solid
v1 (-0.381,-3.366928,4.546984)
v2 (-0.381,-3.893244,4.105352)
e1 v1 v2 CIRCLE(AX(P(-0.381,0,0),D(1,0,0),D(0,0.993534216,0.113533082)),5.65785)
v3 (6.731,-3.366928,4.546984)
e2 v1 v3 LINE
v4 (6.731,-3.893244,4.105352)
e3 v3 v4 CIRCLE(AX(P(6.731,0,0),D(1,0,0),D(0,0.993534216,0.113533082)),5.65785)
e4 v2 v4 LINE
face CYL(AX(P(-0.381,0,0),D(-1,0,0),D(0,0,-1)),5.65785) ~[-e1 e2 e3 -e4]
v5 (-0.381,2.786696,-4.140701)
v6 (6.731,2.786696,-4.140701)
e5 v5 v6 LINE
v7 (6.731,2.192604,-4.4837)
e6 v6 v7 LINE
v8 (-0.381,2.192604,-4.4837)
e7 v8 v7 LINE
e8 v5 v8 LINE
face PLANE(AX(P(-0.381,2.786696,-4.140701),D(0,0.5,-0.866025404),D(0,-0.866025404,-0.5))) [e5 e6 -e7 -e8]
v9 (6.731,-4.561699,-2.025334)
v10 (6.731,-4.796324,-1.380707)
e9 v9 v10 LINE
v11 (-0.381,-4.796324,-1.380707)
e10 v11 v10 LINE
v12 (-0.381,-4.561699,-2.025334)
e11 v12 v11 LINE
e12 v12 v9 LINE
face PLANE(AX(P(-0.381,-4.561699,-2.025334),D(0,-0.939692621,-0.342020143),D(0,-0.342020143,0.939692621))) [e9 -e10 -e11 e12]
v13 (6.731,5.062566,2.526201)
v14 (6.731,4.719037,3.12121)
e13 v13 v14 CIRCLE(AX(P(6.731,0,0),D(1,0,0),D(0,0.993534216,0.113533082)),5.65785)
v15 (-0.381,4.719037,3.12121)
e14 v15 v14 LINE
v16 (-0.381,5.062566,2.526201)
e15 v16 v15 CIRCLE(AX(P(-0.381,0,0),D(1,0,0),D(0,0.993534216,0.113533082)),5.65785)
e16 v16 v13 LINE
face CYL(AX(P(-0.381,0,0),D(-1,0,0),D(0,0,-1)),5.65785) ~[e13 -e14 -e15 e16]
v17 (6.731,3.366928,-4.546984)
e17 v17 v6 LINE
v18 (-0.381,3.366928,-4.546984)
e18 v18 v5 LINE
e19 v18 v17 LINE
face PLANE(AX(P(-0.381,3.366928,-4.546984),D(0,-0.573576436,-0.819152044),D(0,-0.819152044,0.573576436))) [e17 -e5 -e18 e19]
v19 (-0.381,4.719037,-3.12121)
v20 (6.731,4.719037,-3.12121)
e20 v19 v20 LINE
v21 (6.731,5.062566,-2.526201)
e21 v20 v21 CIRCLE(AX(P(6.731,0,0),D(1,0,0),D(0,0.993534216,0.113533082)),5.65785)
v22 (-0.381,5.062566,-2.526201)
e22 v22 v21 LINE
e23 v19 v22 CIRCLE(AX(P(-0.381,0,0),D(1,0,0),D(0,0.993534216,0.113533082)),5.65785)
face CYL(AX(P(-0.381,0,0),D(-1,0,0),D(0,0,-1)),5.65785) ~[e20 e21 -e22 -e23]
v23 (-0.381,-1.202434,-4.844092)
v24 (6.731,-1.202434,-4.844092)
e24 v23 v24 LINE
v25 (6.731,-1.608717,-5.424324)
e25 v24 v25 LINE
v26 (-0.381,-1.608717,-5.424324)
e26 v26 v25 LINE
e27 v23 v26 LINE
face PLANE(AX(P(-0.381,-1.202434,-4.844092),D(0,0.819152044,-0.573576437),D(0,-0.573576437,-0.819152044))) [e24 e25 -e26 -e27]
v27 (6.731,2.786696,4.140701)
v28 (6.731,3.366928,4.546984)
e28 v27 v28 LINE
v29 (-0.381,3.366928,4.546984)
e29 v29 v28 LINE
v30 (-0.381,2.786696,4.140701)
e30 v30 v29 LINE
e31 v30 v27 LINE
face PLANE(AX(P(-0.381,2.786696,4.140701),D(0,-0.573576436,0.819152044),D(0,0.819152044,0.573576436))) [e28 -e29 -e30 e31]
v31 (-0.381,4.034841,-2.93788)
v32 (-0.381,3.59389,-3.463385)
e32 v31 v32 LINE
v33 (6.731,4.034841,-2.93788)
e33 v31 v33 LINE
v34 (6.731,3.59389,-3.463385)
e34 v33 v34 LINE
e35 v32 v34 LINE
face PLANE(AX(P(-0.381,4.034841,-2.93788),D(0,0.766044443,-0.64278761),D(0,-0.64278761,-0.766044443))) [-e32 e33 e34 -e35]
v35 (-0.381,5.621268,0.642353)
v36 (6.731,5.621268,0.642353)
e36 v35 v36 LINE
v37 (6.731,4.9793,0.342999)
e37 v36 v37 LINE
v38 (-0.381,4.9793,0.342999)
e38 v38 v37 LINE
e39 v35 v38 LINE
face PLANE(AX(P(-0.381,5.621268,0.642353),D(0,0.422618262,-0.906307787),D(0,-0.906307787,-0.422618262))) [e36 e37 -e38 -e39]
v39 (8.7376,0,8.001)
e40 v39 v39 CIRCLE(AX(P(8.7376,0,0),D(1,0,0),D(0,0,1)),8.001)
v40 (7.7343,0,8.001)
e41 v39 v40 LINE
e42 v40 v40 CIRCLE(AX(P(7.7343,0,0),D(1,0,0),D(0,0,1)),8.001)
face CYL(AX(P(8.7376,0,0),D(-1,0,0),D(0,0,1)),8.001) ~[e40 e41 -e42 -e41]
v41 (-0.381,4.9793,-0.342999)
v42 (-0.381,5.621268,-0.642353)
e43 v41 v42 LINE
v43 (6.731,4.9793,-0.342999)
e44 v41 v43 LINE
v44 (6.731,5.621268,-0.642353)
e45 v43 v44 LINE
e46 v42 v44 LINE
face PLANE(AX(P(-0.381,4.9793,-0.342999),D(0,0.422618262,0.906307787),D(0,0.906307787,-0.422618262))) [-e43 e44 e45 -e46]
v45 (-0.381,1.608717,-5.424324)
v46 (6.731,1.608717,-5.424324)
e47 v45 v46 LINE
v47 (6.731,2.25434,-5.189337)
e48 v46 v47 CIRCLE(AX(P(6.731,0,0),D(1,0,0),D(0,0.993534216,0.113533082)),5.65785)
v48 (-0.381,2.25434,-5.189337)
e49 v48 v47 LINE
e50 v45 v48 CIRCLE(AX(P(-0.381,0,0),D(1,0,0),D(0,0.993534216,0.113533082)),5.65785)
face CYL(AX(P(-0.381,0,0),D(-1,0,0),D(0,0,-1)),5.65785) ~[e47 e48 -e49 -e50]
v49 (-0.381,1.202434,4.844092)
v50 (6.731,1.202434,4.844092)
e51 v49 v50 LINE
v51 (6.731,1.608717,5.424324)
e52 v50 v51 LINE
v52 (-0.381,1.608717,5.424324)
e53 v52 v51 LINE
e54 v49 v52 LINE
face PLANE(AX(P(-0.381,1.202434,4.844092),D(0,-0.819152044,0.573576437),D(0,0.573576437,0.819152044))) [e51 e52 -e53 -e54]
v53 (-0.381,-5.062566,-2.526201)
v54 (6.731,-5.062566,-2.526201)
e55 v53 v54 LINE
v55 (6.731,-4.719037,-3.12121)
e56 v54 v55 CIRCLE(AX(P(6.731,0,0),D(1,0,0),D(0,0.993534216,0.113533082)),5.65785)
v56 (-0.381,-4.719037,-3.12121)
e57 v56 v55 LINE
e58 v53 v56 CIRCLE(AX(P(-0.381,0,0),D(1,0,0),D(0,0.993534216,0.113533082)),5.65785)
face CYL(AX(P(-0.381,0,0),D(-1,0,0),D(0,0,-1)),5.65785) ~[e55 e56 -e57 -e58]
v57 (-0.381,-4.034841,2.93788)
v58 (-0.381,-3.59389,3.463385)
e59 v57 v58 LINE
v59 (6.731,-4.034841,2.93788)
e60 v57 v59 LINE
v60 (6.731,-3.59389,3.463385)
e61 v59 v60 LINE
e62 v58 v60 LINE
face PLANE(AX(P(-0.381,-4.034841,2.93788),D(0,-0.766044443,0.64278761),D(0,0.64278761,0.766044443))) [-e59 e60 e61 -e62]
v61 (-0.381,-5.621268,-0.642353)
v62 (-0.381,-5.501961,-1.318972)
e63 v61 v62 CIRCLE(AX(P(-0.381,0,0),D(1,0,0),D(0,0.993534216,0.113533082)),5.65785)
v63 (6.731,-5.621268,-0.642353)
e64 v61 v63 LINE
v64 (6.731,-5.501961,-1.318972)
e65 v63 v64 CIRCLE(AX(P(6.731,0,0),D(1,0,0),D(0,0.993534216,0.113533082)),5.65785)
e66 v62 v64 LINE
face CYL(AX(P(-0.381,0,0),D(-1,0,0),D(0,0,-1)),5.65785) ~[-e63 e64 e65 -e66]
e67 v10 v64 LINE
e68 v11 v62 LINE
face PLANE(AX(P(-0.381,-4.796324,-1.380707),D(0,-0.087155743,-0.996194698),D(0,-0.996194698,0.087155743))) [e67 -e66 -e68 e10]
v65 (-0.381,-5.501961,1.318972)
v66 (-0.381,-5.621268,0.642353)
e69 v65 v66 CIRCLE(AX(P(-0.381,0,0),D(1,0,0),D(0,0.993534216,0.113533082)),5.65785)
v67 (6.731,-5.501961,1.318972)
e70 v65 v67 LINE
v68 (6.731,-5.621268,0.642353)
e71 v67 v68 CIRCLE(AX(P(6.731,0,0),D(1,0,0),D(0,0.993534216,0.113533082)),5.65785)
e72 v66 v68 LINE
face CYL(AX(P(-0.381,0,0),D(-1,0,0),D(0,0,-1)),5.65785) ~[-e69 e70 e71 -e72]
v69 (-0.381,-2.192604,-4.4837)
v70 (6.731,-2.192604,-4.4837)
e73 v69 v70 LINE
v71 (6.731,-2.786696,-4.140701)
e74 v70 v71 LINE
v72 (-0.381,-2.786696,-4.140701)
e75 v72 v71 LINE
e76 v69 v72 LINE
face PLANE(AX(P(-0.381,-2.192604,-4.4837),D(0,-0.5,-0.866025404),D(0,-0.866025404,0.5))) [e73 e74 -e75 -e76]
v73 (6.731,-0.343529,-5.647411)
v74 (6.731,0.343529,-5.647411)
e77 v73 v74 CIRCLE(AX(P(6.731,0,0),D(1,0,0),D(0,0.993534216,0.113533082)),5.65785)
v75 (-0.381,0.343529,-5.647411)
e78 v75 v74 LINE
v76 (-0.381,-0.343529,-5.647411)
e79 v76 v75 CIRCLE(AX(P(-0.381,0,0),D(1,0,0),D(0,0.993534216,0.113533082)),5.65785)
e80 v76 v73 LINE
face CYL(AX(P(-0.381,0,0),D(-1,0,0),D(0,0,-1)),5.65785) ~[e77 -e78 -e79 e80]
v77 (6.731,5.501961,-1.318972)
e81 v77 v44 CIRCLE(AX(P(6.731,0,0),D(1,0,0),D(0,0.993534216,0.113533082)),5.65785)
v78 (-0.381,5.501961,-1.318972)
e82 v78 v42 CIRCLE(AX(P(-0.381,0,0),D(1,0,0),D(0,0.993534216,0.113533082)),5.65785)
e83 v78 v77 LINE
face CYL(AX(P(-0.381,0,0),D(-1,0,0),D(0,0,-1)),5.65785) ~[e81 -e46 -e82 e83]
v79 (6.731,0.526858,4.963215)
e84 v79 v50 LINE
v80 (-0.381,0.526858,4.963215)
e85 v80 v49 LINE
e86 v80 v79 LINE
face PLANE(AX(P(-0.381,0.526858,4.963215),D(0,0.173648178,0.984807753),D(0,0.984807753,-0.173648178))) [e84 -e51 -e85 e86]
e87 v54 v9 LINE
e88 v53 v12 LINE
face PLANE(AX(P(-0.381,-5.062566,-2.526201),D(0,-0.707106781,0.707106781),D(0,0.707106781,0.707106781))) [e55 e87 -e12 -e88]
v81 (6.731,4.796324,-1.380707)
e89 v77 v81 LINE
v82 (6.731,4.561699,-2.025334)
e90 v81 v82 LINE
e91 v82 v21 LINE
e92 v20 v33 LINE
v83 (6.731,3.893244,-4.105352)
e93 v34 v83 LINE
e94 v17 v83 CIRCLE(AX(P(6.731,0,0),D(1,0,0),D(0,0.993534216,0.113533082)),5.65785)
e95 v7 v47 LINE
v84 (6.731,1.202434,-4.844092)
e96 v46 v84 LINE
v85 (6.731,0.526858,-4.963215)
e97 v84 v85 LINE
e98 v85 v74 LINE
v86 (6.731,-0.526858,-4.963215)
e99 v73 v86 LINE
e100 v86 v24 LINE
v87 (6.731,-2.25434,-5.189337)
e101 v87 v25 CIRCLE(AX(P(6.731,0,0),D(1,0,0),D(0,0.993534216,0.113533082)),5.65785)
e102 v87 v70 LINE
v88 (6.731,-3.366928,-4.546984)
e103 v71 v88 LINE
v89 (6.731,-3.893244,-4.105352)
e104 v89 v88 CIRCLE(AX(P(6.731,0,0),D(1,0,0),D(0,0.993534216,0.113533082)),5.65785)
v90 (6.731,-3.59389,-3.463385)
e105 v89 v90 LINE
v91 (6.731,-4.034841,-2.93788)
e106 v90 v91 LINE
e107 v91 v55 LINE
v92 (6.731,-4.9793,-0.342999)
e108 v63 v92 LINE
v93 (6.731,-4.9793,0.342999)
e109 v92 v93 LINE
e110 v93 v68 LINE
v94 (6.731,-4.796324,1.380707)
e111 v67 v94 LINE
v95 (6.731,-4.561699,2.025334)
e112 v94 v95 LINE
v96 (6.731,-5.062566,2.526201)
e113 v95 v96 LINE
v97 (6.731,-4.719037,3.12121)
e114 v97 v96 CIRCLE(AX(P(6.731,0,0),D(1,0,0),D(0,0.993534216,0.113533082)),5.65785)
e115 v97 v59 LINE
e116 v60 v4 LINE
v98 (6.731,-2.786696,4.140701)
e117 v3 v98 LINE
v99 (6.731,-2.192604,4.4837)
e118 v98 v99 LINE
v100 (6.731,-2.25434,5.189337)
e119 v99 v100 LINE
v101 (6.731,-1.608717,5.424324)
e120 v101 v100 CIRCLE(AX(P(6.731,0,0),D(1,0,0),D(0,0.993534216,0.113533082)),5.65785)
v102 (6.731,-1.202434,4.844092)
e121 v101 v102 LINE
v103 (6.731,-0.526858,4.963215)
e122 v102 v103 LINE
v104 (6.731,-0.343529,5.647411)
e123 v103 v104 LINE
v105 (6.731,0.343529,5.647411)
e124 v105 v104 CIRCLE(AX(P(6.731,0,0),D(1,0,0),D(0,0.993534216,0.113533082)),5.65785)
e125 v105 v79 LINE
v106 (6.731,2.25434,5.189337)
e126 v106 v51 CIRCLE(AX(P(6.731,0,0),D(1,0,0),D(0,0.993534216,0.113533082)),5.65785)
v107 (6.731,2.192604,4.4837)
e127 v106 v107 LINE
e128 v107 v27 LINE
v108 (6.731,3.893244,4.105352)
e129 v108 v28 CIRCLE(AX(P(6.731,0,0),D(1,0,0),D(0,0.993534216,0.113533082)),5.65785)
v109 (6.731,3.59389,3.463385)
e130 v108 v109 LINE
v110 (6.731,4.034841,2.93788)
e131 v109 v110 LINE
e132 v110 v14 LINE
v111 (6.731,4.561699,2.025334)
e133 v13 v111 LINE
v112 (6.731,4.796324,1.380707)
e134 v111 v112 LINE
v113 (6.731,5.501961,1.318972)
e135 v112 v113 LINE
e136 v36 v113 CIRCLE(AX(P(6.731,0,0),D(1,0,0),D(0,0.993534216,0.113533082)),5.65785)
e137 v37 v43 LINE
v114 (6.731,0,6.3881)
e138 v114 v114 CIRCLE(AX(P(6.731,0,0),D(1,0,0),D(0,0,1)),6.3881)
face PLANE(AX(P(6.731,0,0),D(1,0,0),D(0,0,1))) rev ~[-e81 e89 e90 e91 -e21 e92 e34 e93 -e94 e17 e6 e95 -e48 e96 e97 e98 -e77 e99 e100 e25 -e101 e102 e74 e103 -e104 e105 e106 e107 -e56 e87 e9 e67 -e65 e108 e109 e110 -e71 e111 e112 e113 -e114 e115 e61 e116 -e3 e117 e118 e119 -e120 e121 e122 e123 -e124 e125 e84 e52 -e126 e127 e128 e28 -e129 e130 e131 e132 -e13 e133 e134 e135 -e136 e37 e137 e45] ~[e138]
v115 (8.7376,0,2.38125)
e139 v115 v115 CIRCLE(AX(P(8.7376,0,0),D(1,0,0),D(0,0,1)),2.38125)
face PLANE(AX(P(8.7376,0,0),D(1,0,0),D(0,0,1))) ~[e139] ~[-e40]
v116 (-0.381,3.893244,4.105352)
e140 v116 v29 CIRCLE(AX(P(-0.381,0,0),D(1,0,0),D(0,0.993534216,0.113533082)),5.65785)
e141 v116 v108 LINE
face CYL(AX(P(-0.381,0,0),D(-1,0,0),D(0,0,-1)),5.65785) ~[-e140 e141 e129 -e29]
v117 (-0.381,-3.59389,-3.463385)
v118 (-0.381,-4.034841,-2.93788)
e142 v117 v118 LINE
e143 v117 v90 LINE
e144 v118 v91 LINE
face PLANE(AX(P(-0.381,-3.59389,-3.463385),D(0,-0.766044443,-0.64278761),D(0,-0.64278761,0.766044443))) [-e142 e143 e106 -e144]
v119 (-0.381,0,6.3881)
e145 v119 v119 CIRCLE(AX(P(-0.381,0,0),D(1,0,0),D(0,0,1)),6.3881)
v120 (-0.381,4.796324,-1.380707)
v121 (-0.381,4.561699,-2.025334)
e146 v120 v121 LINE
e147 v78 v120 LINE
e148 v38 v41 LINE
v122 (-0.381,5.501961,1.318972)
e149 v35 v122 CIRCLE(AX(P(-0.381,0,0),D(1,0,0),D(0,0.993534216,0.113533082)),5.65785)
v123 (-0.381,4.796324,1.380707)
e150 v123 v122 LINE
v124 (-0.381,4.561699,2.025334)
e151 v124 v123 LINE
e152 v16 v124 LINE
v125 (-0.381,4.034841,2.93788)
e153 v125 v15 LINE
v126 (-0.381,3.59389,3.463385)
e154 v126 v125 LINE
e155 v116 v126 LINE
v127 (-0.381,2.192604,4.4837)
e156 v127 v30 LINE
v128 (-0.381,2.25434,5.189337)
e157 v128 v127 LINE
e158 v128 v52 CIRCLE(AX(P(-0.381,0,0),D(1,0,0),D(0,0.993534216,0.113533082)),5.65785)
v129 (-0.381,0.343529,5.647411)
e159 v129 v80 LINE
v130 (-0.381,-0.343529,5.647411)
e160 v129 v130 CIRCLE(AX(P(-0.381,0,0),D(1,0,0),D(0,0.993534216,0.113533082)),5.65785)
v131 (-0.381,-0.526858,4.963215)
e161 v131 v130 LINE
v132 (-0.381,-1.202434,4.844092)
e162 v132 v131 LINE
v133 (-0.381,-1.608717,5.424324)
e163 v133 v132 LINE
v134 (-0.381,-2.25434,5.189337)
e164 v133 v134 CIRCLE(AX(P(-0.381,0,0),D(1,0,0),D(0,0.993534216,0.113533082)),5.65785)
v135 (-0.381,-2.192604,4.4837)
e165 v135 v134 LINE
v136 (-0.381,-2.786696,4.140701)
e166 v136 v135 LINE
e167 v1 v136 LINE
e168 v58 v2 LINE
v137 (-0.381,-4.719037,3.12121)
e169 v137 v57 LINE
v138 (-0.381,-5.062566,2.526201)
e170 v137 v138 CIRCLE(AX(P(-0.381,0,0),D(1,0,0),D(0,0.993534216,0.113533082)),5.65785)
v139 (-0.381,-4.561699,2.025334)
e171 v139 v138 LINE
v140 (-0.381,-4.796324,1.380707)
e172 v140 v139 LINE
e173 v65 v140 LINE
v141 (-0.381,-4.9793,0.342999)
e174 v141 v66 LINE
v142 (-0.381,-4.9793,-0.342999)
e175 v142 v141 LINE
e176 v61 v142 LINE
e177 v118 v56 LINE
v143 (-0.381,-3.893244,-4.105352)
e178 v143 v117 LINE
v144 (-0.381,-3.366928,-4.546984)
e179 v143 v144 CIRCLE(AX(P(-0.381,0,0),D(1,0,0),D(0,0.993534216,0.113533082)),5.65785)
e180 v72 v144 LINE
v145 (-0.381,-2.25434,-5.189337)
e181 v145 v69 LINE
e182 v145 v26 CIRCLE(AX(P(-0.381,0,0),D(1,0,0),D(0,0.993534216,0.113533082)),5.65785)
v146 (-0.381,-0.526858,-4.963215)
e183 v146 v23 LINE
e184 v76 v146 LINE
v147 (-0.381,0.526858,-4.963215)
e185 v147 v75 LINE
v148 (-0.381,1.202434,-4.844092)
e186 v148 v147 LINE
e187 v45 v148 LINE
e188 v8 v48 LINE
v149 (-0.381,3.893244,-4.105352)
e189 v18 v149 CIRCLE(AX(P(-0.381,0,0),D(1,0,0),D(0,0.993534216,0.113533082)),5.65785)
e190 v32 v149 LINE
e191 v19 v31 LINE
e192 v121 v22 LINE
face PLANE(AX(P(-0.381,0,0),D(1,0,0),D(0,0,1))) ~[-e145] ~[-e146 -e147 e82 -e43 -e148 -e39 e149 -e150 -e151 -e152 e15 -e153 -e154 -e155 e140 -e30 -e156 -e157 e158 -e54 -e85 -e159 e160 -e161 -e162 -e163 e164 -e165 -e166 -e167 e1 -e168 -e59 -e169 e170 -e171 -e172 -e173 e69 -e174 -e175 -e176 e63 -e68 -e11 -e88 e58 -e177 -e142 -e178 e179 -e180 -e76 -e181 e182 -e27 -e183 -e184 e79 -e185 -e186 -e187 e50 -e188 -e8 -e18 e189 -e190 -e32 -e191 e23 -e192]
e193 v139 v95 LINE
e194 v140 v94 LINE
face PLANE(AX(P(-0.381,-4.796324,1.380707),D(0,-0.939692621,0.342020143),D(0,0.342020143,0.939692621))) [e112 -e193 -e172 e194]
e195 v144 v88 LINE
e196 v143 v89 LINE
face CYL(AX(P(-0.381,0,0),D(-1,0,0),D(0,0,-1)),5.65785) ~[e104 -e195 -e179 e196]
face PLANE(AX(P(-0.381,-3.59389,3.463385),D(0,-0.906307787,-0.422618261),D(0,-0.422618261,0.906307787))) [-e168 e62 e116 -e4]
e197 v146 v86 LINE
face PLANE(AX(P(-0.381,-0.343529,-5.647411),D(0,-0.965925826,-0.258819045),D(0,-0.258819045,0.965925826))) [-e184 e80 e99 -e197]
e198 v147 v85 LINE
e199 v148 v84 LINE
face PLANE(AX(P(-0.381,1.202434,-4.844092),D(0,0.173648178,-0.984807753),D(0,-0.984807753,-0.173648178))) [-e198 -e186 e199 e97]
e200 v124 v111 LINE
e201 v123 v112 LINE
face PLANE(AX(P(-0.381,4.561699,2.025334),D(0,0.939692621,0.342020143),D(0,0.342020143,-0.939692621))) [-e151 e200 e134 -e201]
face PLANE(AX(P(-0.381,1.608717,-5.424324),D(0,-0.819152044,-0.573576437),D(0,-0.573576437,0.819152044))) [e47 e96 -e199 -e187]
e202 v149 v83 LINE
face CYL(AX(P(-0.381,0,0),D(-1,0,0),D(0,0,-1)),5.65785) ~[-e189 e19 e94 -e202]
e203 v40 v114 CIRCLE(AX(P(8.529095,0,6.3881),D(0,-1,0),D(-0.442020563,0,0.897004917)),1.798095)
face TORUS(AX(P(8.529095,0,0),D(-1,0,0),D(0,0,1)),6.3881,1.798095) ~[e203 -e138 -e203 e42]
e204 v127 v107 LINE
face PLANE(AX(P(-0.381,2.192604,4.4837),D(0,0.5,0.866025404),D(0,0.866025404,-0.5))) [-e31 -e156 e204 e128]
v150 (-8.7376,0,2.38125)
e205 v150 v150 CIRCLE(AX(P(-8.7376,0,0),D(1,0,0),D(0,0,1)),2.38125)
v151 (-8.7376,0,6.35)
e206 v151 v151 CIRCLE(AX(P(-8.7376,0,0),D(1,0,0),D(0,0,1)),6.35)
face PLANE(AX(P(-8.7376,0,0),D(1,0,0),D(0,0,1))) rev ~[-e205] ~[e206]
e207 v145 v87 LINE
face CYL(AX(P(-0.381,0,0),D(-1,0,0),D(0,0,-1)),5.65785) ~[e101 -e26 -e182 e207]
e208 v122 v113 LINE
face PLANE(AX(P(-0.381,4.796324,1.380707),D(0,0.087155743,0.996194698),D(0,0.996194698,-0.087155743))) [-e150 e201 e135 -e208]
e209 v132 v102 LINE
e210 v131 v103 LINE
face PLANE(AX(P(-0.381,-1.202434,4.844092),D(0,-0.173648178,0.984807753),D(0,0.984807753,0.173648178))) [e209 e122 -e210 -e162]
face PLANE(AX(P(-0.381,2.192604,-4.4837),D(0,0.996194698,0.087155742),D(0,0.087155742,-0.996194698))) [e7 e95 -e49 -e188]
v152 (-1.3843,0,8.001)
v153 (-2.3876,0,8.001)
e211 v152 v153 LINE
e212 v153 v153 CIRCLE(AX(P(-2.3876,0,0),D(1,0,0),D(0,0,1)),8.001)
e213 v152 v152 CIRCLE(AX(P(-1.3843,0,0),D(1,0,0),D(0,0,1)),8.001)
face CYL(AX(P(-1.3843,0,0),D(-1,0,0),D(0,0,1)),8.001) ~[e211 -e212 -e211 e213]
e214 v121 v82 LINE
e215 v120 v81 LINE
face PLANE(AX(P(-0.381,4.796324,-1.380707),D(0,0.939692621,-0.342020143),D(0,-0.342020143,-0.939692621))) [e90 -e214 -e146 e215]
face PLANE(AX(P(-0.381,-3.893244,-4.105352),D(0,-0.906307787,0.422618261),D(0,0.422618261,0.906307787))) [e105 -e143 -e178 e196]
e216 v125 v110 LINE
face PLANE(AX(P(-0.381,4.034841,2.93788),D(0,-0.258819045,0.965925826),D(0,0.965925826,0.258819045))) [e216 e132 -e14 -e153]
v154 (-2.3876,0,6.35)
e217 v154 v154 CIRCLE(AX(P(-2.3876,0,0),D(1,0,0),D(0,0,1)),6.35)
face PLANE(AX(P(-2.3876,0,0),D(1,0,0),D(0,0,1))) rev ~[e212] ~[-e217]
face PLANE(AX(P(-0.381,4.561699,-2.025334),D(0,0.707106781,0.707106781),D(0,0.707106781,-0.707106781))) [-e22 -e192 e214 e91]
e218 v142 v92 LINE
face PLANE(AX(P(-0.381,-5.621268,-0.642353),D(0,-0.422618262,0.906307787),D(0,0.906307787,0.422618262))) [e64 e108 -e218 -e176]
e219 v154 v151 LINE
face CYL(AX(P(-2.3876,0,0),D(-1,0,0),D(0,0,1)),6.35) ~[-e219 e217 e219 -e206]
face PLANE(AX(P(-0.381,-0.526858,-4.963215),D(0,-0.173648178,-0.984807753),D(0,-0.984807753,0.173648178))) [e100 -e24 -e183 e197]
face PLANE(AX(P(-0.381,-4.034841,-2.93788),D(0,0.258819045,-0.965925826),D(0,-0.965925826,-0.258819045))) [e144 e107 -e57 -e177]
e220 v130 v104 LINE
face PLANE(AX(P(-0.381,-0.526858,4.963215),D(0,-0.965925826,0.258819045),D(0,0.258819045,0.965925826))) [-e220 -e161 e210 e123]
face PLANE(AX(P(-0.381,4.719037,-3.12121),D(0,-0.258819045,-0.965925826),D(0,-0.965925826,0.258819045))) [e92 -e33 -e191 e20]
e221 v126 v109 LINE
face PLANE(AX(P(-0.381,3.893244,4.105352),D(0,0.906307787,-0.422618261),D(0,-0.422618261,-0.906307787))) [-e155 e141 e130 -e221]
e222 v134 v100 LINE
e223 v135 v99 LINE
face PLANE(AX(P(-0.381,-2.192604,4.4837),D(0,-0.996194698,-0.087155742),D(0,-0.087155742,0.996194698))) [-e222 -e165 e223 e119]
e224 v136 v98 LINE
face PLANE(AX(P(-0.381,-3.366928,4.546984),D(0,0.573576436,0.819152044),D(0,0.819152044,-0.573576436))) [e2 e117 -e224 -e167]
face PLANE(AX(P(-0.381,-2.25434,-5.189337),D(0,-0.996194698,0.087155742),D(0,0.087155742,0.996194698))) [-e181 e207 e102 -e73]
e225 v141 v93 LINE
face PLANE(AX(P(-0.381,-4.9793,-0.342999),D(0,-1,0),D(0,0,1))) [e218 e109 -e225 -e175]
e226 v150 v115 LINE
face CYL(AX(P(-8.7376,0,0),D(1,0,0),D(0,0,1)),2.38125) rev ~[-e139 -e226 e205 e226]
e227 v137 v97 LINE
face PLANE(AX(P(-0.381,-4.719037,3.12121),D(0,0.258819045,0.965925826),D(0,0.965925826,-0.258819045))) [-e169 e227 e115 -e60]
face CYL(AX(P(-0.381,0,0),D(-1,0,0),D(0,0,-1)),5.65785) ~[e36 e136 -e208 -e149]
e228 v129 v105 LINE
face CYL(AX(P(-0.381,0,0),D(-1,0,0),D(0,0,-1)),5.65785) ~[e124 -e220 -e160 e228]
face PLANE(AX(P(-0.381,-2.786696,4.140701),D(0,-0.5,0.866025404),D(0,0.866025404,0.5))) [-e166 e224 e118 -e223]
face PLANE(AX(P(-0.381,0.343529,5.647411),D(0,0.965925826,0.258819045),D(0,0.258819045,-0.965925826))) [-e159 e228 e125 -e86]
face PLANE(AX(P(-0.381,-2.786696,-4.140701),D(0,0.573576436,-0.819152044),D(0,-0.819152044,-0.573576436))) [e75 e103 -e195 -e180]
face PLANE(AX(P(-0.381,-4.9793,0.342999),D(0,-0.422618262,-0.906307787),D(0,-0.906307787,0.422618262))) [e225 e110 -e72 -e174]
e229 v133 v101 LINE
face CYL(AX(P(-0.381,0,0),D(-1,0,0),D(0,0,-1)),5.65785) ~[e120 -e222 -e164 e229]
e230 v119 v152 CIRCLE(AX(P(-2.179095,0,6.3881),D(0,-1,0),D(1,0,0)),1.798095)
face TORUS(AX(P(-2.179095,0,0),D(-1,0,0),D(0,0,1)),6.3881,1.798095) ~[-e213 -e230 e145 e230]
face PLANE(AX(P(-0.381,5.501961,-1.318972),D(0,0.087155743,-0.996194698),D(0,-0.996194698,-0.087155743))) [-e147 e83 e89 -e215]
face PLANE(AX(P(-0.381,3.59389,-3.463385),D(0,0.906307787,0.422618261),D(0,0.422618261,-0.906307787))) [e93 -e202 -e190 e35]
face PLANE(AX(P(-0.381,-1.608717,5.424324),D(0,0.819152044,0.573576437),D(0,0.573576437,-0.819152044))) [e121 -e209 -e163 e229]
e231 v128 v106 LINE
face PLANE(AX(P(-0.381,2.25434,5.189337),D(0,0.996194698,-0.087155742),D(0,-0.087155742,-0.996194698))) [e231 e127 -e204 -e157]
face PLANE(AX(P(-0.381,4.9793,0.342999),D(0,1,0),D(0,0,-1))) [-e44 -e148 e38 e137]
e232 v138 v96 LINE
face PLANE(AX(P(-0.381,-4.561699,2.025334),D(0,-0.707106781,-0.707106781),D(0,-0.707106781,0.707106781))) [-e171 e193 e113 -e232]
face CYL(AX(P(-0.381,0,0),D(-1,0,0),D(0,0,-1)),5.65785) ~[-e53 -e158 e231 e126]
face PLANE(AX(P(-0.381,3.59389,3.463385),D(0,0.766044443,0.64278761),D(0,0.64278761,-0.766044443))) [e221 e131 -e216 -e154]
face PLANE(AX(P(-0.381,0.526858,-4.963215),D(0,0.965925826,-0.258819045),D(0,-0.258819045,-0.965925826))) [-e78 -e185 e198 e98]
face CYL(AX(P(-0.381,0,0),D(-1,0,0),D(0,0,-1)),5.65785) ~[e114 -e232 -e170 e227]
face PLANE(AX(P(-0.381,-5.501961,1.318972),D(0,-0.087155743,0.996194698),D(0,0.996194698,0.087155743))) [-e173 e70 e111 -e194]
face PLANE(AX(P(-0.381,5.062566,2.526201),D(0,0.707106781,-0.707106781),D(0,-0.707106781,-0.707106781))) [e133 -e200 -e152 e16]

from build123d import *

# Parameters (mm, degrees)
SKETCH4_R          = 5.8166
SKETCH4_R_2        = 5.65785
CUT_EXTRUDE2_DEPTH = 7.112
CUT_EXTRUDE1_DEPTH = 7.112
CIRPATTERN1_COUNT  = 18


with BuildPart() as part:
    # Sketch1 → Revolve1 (revolve)
    with BuildSketch(Plane.XY, mode=Mode.PRIVATE) as revolve1_sk:
        with BuildLine():
            Line((-8.7376, 2.38125), (8.7376, 2.38125))
            Line((8.7376, 2.38125), (8.7376, 8.001))
            Line((8.7376, 8.001), (7.7343, 8.001))
            ThreePointArc((7.7343, 8.001), (7.002290733, 7.337844347), (6.731, 6.3881))
            Line((6.731, 6.3881), (6.731, 5.8166))
            Line((6.731, 5.8166), (-0.381, 5.8166))
            Line((-0.381, 5.8166), (-0.381, 6.3881))
            ThreePointArc((-0.381, 6.3881), (-0.652290733, 7.337844347), (-1.3843, 8.001))
            Line((-1.3843, 8.001), (-2.3876, 8.001))
            Line((-2.3876, 8.001), (-2.3876, 6.35))
            Line((-2.3876, 6.35), (-8.7376, 6.35))
            Line((-8.7376, 6.35), (-8.7376, 2.38125))
        make_face()
    revolve(revolve1_sk.sketch.rotate(Axis((-8.7376, 0, 0), (1, 0, 0)), 90), axis=Axis((-8.7376, 0, 0), (1, 0, 0)))

    # Sketch4 → Cut-Extrude2 (cut)
    with BuildSketch(Plane(origin=(-0.381, 0, 0), x_dir=(0, 0, -1), z_dir=(1, 0, 0))):
        Circle(SKETCH4_R)
        Circle(SKETCH4_R_2, mode=Mode.SUBTRACT)
    extrude(amount=CUT_EXTRUDE2_DEPTH, mode=Mode.SUBTRACT)

    # Sketch3 → Cut-Extrude1 (cut)
    with BuildSketch(Plane(origin=(-0.381, 0, 0), x_dir=(0, 0, -1), z_dir=(1, 0, 0))):
        with BuildLine():
            Line((-0.64235315, 5.621267566), (-0.342998874, 4.97930025))
            Line((-0.342998874, 4.97930025), (0.342998874, 4.97930025))
            Line((0.342998874, 4.97930025), (0.64235315, 5.621267566))
            ThreePointArc((0.64235315, 5.621267566), (0, 5.65785), (-0.64235315, 5.621267566))
        make_face()
    cut_extrude1 = extrude(amount=CUT_EXTRUDE1_DEPTH, mode=Mode.SUBTRACT)

    # CirPattern1: Cut-Extrude1 ×18 about axis
    cirpattern1_axis = Axis((0, 0, 0), (1, 0, 0))
    for i in range(1, CIRPATTERN1_COUNT):
        add(cut_extrude1.rotate(cirpattern1_axis, i * 360 / CIRPATTERN1_COUNT), mode=Mode.SUBTRACT)


solid = part.part
